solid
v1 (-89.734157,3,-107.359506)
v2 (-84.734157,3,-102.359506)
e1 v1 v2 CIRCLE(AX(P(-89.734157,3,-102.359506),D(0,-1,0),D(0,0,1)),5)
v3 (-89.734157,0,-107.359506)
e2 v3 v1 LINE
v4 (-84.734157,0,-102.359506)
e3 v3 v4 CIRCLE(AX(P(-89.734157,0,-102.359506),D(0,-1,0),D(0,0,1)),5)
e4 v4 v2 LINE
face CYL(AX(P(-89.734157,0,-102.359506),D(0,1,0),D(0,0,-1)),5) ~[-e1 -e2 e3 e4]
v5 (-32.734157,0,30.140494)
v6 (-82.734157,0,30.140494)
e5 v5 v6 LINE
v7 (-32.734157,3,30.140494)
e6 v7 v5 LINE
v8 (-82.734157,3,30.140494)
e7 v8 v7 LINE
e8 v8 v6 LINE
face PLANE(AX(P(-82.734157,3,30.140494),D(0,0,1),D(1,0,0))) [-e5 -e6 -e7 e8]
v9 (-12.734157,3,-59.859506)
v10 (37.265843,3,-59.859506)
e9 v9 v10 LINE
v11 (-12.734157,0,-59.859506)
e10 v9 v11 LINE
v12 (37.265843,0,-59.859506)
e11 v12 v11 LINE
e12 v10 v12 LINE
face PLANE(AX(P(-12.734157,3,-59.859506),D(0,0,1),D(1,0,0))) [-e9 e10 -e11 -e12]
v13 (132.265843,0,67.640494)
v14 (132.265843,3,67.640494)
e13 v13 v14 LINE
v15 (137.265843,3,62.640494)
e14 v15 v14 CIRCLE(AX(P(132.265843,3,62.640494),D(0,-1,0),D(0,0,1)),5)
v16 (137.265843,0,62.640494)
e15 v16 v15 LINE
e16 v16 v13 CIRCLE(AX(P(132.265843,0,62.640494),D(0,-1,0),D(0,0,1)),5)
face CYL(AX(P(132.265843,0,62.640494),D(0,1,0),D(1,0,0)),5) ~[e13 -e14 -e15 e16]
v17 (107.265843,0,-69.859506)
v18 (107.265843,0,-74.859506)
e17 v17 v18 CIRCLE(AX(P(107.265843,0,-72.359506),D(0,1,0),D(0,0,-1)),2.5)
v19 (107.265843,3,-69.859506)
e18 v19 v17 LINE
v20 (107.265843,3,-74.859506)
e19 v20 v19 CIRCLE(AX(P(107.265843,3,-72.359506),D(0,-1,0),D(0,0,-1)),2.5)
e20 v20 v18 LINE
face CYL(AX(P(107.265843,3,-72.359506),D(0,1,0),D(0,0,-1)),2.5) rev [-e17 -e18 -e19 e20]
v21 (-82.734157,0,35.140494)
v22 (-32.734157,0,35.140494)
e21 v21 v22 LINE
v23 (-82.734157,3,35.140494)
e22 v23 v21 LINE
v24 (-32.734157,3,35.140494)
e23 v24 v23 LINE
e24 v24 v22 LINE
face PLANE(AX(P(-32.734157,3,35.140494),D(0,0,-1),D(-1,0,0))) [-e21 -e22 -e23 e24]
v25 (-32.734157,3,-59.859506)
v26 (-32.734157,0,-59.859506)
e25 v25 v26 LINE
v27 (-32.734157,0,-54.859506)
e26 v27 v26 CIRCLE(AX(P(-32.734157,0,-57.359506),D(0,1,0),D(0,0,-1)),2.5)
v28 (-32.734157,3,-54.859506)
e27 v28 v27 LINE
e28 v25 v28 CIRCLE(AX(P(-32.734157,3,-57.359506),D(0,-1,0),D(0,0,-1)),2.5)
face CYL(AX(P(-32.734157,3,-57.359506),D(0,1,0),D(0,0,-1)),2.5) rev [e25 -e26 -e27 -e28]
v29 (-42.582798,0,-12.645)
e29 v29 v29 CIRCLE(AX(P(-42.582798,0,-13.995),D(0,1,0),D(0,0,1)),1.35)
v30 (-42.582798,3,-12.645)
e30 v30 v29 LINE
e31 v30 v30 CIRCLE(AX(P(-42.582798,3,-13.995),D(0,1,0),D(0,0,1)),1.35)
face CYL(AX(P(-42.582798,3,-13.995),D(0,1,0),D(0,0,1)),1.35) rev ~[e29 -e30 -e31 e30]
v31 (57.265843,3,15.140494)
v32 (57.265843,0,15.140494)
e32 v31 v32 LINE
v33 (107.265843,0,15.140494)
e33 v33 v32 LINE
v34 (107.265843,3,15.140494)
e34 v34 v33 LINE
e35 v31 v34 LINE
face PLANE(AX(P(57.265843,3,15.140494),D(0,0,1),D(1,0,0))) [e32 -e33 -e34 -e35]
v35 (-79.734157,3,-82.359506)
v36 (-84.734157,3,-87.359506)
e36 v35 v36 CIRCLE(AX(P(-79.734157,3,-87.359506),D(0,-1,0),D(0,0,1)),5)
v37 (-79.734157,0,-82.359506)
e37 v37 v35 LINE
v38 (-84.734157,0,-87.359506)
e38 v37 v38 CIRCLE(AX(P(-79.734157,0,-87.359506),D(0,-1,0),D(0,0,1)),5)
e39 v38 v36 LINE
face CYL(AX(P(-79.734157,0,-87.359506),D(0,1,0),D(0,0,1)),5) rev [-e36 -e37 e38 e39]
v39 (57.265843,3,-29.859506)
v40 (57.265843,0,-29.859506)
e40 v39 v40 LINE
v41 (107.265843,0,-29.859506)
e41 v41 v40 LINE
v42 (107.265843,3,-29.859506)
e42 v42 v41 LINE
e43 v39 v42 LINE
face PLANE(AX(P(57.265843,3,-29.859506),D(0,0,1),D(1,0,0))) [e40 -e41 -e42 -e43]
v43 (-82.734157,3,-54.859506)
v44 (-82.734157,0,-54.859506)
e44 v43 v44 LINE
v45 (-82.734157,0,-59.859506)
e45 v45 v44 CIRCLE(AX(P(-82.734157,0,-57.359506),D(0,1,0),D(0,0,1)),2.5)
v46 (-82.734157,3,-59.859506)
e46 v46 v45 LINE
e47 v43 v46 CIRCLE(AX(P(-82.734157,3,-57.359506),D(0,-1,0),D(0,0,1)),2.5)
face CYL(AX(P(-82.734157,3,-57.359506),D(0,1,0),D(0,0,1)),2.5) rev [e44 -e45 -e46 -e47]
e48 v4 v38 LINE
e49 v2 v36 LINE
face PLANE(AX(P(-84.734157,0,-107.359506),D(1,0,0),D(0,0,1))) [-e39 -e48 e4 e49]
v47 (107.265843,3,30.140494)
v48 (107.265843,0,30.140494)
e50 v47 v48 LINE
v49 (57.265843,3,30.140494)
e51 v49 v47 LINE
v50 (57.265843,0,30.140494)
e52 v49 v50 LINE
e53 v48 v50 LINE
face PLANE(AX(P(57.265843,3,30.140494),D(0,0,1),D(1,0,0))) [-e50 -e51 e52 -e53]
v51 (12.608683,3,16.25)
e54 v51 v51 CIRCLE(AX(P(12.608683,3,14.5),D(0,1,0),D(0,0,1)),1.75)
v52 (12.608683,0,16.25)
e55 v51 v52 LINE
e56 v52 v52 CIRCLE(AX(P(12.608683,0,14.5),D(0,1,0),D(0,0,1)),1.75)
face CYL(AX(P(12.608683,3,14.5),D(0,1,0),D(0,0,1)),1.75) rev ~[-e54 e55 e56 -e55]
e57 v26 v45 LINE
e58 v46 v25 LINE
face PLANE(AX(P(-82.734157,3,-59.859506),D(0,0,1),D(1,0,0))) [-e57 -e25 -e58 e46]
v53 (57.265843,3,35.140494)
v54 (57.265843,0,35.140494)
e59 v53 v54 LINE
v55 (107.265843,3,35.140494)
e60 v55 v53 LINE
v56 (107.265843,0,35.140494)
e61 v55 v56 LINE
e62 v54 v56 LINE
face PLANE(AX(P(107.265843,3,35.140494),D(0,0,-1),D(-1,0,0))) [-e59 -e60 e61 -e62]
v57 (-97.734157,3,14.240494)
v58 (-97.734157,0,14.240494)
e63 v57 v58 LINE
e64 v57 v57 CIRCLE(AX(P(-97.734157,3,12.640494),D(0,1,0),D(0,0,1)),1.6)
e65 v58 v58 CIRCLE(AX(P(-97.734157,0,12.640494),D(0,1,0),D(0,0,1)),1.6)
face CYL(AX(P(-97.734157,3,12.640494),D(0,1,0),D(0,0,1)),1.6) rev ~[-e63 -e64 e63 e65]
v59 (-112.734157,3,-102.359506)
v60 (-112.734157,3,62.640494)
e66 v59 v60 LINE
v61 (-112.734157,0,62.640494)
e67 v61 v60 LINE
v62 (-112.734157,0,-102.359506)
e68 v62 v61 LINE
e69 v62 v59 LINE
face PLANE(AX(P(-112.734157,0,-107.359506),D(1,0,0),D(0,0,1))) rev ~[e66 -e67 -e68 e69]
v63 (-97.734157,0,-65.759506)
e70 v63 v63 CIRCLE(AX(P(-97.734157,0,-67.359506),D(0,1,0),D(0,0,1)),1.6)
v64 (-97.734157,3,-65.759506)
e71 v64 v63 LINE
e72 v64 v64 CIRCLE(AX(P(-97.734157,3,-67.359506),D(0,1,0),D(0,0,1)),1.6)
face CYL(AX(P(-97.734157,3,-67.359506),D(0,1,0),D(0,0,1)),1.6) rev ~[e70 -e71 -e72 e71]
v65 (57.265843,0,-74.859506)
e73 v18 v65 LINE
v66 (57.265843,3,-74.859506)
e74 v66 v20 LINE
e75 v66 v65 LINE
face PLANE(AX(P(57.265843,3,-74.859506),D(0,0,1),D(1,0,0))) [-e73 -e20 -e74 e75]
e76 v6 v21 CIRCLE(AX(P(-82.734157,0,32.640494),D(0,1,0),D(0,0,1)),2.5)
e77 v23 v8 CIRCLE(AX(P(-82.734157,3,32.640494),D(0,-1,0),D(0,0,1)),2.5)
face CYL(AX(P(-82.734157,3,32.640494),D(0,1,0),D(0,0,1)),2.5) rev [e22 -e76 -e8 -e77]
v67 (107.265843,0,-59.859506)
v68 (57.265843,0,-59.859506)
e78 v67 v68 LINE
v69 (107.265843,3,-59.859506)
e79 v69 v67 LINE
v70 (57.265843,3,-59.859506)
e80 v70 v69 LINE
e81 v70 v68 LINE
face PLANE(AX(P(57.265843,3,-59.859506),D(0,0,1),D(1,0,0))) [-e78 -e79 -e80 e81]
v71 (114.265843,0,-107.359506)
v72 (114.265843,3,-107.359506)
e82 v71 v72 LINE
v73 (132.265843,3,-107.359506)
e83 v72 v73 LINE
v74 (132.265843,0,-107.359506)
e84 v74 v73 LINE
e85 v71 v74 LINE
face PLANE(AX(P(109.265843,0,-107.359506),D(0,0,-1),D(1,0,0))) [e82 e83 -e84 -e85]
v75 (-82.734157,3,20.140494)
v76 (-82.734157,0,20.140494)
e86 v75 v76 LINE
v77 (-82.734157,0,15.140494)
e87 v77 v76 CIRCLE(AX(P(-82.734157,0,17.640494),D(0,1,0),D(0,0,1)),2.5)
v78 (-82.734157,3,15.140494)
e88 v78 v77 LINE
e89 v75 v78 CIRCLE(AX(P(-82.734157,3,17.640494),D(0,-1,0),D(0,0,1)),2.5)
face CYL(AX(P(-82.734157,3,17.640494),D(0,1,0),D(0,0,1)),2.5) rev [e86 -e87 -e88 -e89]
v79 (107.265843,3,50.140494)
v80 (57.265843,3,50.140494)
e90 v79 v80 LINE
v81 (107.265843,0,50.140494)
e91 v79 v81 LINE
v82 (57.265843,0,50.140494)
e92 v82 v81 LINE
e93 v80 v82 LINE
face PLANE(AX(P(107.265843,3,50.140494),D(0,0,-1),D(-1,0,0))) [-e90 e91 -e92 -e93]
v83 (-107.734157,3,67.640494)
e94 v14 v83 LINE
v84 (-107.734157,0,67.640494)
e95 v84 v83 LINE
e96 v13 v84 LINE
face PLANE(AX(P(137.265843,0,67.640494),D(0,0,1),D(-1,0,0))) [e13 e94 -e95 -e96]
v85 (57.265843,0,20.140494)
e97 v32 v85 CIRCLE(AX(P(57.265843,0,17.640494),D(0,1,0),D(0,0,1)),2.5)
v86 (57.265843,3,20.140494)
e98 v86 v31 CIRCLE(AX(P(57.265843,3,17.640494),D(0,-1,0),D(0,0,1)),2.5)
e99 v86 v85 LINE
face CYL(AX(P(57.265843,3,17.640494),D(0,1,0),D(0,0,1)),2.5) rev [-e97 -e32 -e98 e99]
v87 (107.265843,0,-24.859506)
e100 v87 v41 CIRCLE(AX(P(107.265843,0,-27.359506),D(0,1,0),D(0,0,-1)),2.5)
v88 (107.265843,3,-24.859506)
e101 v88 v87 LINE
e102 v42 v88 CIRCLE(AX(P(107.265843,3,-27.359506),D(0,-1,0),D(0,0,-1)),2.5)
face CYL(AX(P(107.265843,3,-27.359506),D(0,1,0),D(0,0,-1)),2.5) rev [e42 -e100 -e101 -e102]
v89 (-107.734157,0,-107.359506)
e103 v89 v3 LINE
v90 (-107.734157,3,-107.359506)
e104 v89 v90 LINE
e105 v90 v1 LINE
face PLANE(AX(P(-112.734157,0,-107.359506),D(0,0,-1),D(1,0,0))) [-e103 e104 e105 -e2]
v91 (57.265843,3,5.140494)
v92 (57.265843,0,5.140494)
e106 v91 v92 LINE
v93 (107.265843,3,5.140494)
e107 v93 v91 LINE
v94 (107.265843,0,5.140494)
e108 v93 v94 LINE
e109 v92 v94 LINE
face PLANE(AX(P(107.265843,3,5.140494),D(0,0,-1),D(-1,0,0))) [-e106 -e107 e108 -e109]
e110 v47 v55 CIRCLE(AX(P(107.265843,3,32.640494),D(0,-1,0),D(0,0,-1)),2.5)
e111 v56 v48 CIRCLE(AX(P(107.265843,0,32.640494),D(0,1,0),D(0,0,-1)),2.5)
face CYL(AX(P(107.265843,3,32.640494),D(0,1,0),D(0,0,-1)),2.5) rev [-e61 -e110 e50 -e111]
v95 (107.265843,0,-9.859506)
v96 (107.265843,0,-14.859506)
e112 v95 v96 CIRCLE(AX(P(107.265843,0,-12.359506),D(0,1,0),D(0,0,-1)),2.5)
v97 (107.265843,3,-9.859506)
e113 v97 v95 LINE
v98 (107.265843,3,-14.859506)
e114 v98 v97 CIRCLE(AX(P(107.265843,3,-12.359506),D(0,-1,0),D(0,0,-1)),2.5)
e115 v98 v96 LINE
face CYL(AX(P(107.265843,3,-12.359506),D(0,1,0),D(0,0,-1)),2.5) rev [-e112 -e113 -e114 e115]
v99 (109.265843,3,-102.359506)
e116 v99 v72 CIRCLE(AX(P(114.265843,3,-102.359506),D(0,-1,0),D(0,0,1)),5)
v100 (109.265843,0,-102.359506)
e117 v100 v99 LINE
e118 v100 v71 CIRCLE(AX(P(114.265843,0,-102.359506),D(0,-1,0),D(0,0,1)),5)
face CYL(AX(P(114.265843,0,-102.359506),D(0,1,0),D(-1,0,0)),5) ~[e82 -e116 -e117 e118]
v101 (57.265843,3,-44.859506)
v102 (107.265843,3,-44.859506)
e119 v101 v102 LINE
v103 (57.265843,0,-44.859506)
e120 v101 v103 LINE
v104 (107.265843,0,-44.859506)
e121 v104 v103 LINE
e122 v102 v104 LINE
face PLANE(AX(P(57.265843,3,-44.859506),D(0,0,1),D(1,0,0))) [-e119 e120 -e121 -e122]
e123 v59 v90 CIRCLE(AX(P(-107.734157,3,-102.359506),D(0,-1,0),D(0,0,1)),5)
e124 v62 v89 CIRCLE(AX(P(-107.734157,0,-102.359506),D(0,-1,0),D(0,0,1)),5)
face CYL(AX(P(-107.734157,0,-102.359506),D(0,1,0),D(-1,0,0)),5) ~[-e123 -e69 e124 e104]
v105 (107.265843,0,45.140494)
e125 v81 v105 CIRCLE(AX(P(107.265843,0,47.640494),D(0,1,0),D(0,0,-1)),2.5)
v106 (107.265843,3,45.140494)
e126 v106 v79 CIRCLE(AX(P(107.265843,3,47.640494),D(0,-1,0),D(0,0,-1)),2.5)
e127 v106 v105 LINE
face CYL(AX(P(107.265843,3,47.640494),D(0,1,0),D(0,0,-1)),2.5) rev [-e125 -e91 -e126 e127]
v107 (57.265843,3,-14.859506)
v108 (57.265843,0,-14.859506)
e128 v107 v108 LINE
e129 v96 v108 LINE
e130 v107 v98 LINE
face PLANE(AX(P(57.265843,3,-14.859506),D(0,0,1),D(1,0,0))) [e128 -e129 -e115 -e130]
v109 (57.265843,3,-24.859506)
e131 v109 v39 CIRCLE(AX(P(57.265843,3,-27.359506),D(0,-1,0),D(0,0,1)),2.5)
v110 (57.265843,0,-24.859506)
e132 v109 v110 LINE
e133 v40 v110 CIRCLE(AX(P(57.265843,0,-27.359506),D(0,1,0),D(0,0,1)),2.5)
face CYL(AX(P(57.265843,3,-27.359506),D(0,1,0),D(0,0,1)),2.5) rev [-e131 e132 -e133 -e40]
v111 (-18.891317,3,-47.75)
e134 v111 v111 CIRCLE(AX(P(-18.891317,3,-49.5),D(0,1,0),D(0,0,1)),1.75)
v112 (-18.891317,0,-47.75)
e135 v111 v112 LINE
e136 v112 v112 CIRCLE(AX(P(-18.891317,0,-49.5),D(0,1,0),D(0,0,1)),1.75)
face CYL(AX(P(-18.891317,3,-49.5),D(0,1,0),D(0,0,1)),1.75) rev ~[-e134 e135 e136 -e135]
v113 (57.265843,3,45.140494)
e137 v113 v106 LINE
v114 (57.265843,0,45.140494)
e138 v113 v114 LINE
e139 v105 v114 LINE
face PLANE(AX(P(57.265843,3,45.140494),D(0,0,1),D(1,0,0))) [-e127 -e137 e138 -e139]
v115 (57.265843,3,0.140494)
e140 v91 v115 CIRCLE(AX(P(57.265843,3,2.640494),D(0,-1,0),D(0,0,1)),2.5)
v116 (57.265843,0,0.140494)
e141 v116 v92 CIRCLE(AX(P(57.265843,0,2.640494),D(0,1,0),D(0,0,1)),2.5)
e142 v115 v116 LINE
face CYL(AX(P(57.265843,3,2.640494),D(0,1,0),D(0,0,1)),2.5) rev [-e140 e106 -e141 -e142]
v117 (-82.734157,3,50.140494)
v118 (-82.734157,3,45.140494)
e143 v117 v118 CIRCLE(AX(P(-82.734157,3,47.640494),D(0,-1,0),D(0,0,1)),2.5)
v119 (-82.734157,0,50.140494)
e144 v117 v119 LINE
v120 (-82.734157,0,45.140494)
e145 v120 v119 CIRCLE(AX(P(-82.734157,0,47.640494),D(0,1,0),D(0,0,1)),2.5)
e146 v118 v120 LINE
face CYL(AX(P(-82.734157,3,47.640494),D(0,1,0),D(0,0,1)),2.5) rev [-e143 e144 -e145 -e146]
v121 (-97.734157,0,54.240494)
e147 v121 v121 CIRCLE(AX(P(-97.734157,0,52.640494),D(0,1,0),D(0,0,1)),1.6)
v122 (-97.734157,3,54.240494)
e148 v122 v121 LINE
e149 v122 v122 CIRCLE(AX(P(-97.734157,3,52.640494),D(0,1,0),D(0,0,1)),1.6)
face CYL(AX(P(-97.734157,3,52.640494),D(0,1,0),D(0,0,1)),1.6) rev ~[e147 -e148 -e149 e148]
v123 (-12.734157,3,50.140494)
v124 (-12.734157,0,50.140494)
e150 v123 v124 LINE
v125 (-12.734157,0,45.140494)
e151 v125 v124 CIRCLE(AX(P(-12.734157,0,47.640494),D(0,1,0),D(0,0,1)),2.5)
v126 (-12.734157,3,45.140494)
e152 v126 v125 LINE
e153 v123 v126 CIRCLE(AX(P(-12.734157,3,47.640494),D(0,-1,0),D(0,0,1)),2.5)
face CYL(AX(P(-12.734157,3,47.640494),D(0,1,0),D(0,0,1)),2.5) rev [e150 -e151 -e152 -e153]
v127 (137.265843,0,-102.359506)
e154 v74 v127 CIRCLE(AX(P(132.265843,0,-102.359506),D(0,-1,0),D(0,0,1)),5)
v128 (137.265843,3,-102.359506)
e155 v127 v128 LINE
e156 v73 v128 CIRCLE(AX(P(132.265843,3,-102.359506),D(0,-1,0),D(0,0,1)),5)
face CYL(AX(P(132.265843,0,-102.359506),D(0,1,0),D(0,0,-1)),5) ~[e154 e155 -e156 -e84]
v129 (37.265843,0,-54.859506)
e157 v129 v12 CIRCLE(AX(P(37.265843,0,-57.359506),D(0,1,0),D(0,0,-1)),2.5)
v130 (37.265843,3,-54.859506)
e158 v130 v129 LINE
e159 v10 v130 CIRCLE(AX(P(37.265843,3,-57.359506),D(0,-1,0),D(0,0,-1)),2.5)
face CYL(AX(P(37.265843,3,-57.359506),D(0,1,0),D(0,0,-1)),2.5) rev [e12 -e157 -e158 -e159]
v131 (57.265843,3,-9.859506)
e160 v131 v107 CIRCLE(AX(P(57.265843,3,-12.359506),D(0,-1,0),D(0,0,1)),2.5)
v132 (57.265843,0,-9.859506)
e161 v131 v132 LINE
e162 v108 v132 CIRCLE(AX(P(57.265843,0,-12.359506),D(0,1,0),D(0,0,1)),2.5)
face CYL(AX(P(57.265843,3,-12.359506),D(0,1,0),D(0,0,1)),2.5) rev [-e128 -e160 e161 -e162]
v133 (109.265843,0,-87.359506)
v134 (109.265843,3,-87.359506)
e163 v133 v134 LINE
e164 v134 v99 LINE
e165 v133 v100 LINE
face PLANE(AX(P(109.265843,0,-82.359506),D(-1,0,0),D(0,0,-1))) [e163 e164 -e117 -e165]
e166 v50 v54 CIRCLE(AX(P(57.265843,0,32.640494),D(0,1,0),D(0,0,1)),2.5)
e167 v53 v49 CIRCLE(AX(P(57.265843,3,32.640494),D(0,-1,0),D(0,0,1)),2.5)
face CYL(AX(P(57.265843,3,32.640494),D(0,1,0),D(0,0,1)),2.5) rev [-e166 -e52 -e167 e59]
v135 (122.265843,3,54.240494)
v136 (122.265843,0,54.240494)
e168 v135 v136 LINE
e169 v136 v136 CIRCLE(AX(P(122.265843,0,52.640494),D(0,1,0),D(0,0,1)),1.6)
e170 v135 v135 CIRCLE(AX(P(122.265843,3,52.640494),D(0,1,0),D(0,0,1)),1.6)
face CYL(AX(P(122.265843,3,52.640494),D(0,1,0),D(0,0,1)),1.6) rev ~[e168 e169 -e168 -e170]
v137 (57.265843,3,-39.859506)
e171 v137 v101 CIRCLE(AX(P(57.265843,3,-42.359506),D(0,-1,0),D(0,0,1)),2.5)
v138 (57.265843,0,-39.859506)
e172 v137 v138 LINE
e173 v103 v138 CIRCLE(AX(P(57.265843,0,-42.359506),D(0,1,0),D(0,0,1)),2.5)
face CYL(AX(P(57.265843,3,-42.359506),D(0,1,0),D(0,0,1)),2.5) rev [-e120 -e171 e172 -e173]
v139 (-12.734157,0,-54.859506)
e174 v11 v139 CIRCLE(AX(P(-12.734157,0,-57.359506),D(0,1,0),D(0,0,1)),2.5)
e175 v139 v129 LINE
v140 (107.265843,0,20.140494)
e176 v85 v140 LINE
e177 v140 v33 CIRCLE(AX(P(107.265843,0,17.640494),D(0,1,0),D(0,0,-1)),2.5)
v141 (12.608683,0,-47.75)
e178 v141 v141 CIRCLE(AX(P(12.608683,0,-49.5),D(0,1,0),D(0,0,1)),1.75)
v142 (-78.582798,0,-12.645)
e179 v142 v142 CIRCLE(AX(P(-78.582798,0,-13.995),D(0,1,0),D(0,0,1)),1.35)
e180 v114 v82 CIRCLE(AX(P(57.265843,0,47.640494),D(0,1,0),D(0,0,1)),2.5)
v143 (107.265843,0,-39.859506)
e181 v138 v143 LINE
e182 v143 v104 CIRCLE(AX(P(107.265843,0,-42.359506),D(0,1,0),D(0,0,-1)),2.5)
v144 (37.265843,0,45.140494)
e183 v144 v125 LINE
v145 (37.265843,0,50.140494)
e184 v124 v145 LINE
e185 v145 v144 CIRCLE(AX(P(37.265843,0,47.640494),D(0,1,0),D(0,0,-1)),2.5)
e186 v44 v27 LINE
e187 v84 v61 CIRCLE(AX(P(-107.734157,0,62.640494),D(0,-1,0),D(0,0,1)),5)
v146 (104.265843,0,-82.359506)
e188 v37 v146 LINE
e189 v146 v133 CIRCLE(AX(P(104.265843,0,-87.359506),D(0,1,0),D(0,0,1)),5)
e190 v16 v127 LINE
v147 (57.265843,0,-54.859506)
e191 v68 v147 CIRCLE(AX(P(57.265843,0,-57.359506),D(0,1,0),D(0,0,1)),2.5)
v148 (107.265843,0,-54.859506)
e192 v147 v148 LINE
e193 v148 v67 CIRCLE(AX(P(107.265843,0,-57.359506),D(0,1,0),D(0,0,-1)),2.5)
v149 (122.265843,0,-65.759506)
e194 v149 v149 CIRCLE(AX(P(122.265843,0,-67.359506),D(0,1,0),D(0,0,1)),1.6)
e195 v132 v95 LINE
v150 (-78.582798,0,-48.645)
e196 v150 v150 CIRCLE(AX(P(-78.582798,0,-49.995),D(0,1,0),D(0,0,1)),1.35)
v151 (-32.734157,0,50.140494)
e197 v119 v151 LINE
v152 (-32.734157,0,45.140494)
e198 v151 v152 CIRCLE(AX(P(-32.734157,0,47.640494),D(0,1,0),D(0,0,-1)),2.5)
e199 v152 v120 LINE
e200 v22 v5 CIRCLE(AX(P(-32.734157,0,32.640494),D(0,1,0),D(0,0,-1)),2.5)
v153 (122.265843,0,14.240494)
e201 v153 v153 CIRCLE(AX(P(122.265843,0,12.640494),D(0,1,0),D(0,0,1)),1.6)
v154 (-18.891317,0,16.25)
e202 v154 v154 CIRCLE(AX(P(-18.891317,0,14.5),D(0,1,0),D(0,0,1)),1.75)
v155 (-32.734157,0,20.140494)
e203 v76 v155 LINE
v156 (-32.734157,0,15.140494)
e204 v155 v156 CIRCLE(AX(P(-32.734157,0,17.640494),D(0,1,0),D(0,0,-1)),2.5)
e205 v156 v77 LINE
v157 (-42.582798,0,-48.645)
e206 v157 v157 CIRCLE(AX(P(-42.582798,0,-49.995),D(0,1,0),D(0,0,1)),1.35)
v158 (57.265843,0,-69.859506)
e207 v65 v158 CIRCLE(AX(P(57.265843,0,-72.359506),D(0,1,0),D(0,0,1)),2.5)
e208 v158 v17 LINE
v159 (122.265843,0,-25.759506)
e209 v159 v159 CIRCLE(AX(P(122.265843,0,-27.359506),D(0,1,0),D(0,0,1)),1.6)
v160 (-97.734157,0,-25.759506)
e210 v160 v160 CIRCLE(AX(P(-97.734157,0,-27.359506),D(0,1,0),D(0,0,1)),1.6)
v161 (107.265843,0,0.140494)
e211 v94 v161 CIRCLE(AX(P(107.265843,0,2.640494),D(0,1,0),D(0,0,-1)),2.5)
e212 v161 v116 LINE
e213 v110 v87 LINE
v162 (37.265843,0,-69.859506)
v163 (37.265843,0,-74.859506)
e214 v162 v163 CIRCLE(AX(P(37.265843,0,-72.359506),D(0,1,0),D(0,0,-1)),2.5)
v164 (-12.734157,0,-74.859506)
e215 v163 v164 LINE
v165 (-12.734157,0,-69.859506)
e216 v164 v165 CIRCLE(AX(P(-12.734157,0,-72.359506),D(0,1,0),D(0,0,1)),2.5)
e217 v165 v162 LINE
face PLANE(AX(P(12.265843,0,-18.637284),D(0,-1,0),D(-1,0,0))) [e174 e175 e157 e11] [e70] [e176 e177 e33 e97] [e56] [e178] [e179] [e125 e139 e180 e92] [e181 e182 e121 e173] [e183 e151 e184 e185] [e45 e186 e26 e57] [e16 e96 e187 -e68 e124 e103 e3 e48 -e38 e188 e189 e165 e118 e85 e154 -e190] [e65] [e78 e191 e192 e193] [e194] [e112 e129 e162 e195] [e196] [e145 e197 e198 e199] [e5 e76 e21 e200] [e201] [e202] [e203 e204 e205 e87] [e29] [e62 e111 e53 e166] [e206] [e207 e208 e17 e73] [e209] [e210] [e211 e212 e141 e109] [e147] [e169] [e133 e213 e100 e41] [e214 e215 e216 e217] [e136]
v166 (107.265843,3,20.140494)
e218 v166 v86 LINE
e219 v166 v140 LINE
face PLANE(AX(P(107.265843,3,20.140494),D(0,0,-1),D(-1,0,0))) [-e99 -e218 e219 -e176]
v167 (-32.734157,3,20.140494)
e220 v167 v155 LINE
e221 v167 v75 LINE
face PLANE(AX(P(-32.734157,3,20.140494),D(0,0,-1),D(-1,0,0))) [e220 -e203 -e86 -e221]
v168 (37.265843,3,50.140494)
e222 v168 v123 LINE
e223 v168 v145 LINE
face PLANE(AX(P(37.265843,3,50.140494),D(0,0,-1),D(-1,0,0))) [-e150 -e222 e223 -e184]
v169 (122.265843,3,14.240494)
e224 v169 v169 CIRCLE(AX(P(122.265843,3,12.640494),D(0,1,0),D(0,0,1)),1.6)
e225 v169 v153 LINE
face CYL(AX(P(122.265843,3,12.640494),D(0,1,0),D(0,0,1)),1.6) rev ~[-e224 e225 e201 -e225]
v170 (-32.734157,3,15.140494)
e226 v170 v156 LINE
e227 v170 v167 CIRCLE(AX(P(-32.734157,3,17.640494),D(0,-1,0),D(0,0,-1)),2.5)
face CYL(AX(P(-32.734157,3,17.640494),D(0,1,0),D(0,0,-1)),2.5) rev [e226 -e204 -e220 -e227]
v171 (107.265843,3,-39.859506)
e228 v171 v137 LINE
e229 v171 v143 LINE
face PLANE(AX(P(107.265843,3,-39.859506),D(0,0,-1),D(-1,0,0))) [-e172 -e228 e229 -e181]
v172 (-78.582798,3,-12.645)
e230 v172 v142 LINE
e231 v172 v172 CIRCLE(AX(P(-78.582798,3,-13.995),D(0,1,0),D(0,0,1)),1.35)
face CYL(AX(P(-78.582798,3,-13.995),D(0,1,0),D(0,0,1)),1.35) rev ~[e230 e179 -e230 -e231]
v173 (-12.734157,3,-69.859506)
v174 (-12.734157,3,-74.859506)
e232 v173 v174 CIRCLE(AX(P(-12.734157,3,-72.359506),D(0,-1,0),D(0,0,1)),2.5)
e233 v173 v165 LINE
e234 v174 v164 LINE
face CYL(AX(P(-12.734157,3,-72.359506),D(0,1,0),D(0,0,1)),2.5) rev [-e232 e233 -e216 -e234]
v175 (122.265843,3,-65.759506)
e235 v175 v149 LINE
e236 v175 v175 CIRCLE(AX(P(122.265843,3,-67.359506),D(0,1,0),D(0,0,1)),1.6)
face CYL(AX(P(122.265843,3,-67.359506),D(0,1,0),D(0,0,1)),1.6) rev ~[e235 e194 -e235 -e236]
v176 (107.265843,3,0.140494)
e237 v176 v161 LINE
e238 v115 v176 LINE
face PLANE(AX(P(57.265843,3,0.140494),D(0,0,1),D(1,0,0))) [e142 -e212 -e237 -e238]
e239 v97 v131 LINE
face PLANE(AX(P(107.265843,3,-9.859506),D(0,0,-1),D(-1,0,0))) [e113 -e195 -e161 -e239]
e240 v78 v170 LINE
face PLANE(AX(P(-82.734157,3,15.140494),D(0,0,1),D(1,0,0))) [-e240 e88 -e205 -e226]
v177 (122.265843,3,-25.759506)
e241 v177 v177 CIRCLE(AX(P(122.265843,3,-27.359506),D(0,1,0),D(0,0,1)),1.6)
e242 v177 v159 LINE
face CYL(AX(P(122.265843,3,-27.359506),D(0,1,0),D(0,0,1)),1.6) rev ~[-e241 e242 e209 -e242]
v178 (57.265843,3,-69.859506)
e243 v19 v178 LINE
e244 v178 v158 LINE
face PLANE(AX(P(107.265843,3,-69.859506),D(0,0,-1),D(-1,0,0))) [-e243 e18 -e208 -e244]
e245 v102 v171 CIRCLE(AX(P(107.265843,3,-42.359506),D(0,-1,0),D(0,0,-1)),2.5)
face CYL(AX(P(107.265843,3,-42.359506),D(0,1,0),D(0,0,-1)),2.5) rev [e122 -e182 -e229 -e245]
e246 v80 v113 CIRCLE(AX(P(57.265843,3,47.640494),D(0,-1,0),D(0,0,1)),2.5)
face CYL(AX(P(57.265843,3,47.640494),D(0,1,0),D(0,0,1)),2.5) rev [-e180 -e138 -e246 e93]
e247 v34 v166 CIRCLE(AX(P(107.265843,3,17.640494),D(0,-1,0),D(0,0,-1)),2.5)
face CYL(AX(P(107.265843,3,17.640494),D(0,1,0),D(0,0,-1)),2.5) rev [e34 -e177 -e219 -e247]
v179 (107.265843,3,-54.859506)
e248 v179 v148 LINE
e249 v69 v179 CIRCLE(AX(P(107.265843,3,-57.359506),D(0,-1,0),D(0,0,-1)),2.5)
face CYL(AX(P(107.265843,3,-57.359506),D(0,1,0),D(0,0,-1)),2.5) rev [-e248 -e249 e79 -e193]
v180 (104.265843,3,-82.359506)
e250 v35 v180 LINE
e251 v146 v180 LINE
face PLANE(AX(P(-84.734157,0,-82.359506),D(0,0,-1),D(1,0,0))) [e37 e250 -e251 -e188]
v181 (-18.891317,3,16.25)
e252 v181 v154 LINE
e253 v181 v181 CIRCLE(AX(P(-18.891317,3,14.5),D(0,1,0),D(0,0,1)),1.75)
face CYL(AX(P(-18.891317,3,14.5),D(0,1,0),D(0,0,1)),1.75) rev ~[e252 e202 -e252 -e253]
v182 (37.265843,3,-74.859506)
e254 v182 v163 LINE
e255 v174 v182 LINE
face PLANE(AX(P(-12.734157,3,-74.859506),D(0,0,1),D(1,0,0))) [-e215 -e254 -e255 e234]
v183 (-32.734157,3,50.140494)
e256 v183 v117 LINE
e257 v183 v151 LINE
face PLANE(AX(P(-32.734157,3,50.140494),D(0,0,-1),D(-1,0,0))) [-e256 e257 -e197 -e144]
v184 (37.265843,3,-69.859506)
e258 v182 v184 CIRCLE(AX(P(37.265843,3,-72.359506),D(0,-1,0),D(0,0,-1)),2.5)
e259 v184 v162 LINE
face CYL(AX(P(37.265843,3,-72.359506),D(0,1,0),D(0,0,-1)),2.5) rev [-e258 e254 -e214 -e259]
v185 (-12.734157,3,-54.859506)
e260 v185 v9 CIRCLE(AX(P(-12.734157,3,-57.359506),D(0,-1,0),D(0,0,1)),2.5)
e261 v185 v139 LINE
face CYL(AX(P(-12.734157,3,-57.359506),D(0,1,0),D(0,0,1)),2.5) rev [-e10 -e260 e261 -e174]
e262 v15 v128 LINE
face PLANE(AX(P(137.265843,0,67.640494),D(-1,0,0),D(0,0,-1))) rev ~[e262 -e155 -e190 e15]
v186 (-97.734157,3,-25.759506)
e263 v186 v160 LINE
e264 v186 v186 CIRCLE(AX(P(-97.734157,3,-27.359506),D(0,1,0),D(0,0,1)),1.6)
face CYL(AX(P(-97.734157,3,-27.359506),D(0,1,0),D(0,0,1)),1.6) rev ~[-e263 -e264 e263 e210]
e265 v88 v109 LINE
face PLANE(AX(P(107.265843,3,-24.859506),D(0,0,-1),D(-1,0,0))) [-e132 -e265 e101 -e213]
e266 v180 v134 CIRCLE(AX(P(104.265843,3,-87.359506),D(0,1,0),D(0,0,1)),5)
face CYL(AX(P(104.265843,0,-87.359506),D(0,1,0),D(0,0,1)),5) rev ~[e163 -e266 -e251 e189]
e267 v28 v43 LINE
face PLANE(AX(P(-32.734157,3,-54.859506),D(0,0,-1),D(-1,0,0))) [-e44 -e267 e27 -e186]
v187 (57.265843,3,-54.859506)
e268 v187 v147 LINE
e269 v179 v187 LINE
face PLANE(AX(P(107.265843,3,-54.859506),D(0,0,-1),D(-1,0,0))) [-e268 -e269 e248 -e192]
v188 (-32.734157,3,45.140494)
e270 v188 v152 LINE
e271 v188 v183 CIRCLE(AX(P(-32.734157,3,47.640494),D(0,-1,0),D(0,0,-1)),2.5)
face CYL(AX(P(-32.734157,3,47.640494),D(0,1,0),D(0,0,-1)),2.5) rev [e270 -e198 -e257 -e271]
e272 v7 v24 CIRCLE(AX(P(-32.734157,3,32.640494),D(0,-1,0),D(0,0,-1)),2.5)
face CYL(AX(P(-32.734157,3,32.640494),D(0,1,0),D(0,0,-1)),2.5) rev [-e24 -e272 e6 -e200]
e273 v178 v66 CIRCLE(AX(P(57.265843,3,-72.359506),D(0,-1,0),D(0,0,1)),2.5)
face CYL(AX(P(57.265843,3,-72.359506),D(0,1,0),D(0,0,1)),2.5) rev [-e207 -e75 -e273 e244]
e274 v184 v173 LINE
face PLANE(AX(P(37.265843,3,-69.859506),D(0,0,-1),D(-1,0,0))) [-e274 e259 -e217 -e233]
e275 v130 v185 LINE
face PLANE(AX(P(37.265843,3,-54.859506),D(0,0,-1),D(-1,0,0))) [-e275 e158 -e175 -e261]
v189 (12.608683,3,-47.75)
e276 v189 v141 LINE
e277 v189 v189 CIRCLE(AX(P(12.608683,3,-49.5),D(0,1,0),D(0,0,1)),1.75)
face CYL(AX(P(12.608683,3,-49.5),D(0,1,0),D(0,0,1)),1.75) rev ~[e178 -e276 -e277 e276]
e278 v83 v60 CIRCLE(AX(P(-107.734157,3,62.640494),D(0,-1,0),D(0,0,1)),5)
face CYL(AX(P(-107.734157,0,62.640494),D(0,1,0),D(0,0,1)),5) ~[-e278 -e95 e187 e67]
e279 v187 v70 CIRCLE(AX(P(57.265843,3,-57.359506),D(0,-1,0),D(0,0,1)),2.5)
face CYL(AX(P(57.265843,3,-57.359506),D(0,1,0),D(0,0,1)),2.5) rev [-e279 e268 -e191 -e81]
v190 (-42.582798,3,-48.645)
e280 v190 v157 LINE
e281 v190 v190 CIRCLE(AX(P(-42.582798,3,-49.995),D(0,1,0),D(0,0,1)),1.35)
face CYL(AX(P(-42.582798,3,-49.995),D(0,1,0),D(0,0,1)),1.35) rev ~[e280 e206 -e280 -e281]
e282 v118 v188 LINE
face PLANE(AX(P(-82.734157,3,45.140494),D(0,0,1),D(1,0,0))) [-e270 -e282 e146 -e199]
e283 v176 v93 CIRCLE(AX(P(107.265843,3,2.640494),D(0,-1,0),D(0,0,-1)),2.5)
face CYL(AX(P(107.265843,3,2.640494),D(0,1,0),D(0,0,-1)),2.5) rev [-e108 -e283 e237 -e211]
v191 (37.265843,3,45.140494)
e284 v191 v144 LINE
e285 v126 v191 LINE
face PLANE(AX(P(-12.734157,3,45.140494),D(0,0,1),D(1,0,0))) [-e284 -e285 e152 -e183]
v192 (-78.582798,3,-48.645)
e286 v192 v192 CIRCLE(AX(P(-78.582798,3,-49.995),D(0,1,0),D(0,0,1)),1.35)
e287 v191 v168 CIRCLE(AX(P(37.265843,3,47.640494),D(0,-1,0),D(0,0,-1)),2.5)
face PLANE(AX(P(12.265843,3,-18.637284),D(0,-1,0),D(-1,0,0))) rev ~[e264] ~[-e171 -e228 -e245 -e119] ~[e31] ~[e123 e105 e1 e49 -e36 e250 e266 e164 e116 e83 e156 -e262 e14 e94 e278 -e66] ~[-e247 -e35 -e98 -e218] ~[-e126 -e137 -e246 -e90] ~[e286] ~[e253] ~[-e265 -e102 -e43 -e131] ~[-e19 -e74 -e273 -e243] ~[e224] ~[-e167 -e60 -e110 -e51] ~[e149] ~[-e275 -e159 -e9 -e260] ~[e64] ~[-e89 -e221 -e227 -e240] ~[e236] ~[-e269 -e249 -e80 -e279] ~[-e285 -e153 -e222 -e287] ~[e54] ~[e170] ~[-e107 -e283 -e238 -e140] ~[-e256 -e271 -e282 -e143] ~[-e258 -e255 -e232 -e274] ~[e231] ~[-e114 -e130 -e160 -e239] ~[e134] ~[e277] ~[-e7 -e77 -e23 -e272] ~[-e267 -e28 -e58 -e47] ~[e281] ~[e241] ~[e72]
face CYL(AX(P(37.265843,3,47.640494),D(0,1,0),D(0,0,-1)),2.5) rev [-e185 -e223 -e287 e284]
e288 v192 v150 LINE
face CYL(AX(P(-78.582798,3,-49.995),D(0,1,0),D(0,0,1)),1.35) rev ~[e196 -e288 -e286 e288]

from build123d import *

# Parameters (mm, degrees)
EXTRUDE_1_DEPTH     = 3
FILLET_1_R          = 5
SKETCH_4_R          = 1.75
SKETCH_4_R_2        = 1.35
CUT_EXTRUDE_2_DEPTH = 10
CUT_EXTRUDE_3_DEPTH = 10
SKETCH_5_R          = 1.6
CUT_EXTRUDE_4_DEPTH = 10


with BuildPart() as part:
    # 草图1 → 凸台-拉伸1 (new body)
    with BuildSketch(Plane(origin=(0, 0, 0), x_dir=(1, 0, 0), z_dir=(0, 1, 0))):
        Polygon((-84.734156599, 82.359506041), (109.265843401, 82.359506041), (109.265843401, 107.359506041), (137.265843401, 107.359506041), (137.265843401, 82.359506041), (137.265843401, -67.640493959), (-112.734156599, -67.640493959), (-112.734156599, 55.552013884), (-112.734156599, 107.359506041), (-84.734156599, 107.359506041), align=None)
    extrude(amount=EXTRUDE_1_DEPTH)

    # 圆角1
    fillet_1_edges = [part.edges().sort_by_distance(p)[0] for p in [
        (137.265843401, 1.5, 67.640493959),
        (-112.734156599, 1.5, 67.640493959),
        (137.265843401, 1.5, -107.359506041),
        (109.265843401, 1.5, -107.359506041),
        (109.265843401, 1.5, -82.359506041),
        (-112.734156599, 1.5, -107.359506041),
        (-84.734156599, 1.5, -107.359506041),
        (-84.734156599, 1.5, -82.359506041),
    ]]
    fillet(fillet_1_edges, radius=FILLET_1_R)

    # 草图4 → 切除-拉伸2 (cut)
    with BuildSketch(Plane(origin=(0, 3, 0), x_dir=(1, 0, 0), z_dir=(0, 1, 0))):
        with Locations((-18.891317384, -14.5)):
            Circle(SKETCH_4_R)
        with Locations((12.608682616, -14.5)):
            Circle(SKETCH_4_R)
        with Locations((-42.582797937, 49.995)):
            Circle(SKETCH_4_R_2)
        with Locations((-18.891317384, 49.5)):
            Circle(SKETCH_4_R)
        with Locations((12.608682616, 49.5)):
            Circle(SKETCH_4_R)
        with Locations((-42.582797937, 13.995)):
            Circle(SKETCH_4_R_2)
        with Locations((-78.582797937, 13.995)):
            Circle(SKETCH_4_R_2)
        with Locations((-78.582797937, 49.995)):
            Circle(SKETCH_4_R_2)
    extrude(amount=-CUT_EXTRUDE_2_DEPTH, mode=Mode.SUBTRACT)

    # 草图4<3> → 切除-拉伸3 (cut)
    with BuildSketch(Plane(origin=(0, 3, 0), x_dir=(1, 0, 0), z_dir=(0, 1, 0))):
        with BuildLine():
            Line((57.265843401, 74.859506041), (107.265843401, 74.859506041))
            ThreePointArc((107.265843401, 74.859506041), (109.765843401, 72.359506041), (107.265843401, 69.859506041))
            Line((107.265843401, 69.859506041), (57.265843401, 69.859506041))
            ThreePointArc((57.265843401, 69.859506041), (54.765843401, 72.359506041), (57.265843401, 74.859506041))
        make_face()
        with BuildLine():
            Line((57.265843401, 59.859506041), (107.265843401, 59.859506041))
            ThreePointArc((107.265843401, 59.859506041), (109.765843401, 57.359506041), (107.265843401, 54.859506041))
            Line((107.265843401, 54.859506041), (57.265843401, 54.859506041))
            ThreePointArc((57.265843401, 54.859506041), (54.765843401, 57.359506041), (57.265843401, 59.859506041))
        make_face()
        with BuildLine():
            Line((57.265843401, 44.859506041), (107.265843401, 44.859506041))
            ThreePointArc((107.265843401, 44.859506041), (109.765843401, 42.359506041), (107.265843401, 39.859506041))
            Line((107.265843401, 39.859506041), (57.265843401, 39.859506041))
            ThreePointArc((57.265843401, 39.859506041), (54.765843401, 42.359506041), (57.265843401, 44.859506041))
        make_face()
        with BuildLine():
            Line((57.265843401, 29.859506041), (107.265843401, 29.859506041))
            ThreePointArc((107.265843401, 29.859506041), (109.765843401, 27.359506041), (107.265843401, 24.859506041))
            Line((107.265843401, 24.859506041), (57.265843401, 24.859506041))
            ThreePointArc((57.265843401, 24.859506041), (54.765843401, 27.359506041), (57.265843401, 29.859506041))
        make_face()
        with BuildLine():
            Line((57.265843401, 14.859506041), (107.265843401, 14.859506041))
            ThreePointArc((107.265843401, 14.859506041), (109.765843401, 12.359506041), (107.265843401, 9.859506041))
            Line((107.265843401, 9.859506041), (57.265843401, 9.859506041))
            ThreePointArc((57.265843401, 9.859506041), (54.765843401, 12.359506041), (57.265843401, 14.859506041))
        make_face()
        with BuildLine():
            Line((57.265843401, -0.140493959), (107.265843401, -0.140493959))
            ThreePointArc((107.265843401, -0.140493959), (109.765843401, -2.640493959), (107.265843401, -5.140493959))
            Line((107.265843401, -5.140493959), (57.265843401, -5.140493959))
            ThreePointArc((57.265843401, -5.140493959), (54.765843401, -2.640493959), (57.265843401, -0.140493959))
        make_face()
        with BuildLine():
            Line((57.265843401, -15.140493959), (107.265843401, -15.140493959))
            ThreePointArc((107.265843401, -15.140493959), (109.765843401, -17.640493959), (107.265843401, -20.140493959))
            Line((107.265843401, -20.140493959), (57.265843401, -20.140493959))
            ThreePointArc((57.265843401, -20.140493959), (54.765843401, -17.640493959), (57.265843401, -15.140493959))
        make_face()
        with BuildLine():
            Line((57.265843401, -30.140493959), (107.265843401, -30.140493959))
            ThreePointArc((107.265843401, -30.140493959), (109.765843401, -32.640493959), (107.265843401, -35.140493959))
            Line((107.265843401, -35.140493959), (57.265843401, -35.140493959))
            ThreePointArc((57.265843401, -35.140493959), (54.765843401, -32.640493959), (57.265843401, -30.140493959))
        make_face()
        with BuildLine():
            Line((57.265843401, -45.140493959), (107.265843401, -45.140493959))
            ThreePointArc((107.265843401, -45.140493959), (109.765843401, -47.640493959), (107.265843401, -50.140493959))
            Line((107.265843401, -50.140493959), (57.265843401, -50.140493959))
            ThreePointArc((57.265843401, -50.140493959), (54.765843401, -47.640493959), (57.265843401, -45.140493959))
        make_face()
        with BuildLine():
            Line((-12.734156599, 74.859506041), (37.265843401, 74.859506041))
            ThreePointArc((37.265843401, 74.859506041), (39.765843401, 72.359506041), (37.265843401, 69.859506041))
            Line((37.265843401, 69.859506041), (-12.734156599, 69.859506041))
            ThreePointArc((-12.734156599, 69.859506041), (-15.234156599, 72.359506041), (-12.734156599, 74.859506041))
        make_face()
        with BuildLine():
            Line((-12.734156599, 59.859506041), (37.265843401, 59.859506041))
            ThreePointArc((37.265843401, 59.859506041), (39.765843401, 57.359506041), (37.265843401, 54.859506041))
            Line((37.265843401, 54.859506041), (-12.734156599, 54.859506041))
            ThreePointArc((-12.734156599, 54.859506041), (-15.234156599, 57.359506041), (-12.734156599, 59.859506041))
        make_face()
        with BuildLine():
            Line((-82.734156599, 59.859506041), (-32.734156599, 59.859506041))
            ThreePointArc((-32.734156599, 59.859506041), (-30.234156599, 57.359506041), (-32.734156599, 54.859506041))
            Line((-32.734156599, 54.859506041), (-82.734156599, 54.859506041))
            ThreePointArc((-82.734156599, 54.859506041), (-85.234156599, 57.359506041), (-82.734156599, 59.859506041))
        make_face()
        with BuildLine():
            Line((-12.734156599, -45.140493959), (37.265843401, -45.140493959))
            ThreePointArc((37.265843401, -45.140493959), (39.765843401, -47.640493959), (37.265843401, -50.140493959))
            Line((37.265843401, -50.140493959), (-12.734156599, -50.140493959))
            ThreePointArc((-12.734156599, -50.140493959), (-15.234156599, -47.640493959), (-12.734156599, -45.140493959))
        make_face()
        with BuildLine():
            Line((-82.734156599, -45.140493959), (-32.734156599, -45.140493959))
            ThreePointArc((-32.734156599, -45.140493959), (-30.234156599, -47.640493959), (-32.734156599, -50.140493959))
            Line((-32.734156599, -50.140493959), (-82.734156599, -50.140493959))
            ThreePointArc((-82.734156599, -50.140493959), (-85.234156599, -47.640493959), (-82.734156599, -45.140493959))
        make_face()
        with BuildLine():
            Line((-82.734156599, -30.140493959), (-32.734156599, -30.140493959))
            ThreePointArc((-32.734156599, -30.140493959), (-30.234156599, -32.640493959), (-32.734156599, -35.140493959))
            Line((-32.734156599, -35.140493959), (-82.734156599, -35.140493959))
            ThreePointArc((-82.734156599, -35.140493959), (-85.234156599, -32.640493959), (-82.734156599, -30.140493959))
        make_face()
        with BuildLine():
            Line((-82.734156599, -15.140493959), (-32.734156599, -15.140493959))
            ThreePointArc((-32.734156599, -15.140493959), (-30.234156599, -17.640493959), (-32.734156599, -20.140493959))
            Line((-32.734156599, -20.140493959), (-82.734156599, -20.140493959))
            ThreePointArc((-82.734156599, -20.140493959), (-85.234156599, -17.640493959), (-82.734156599, -15.140493959))
        make_face()
    extrude(amount=-CUT_EXTRUDE_3_DEPTH, mode=Mode.SUBTRACT)

    # 草图5 → 切除-拉伸4 (cut)
    with BuildSketch(Plane(origin=(0, 3, 0), x_dir=(1, 0, 0), z_dir=(0, 1, 0))):
        with Locations((-97.734156599, 67.359506041)):
            Circle(SKETCH_5_R)
        with Locations((-97.734156599, 27.359506041)):
            Circle(SKETCH_5_R)
        with Locations((-97.734156599, -12.640493959)):
            Circle(SKETCH_5_R)
        with Locations((-97.734156599, -52.640493959)):
            Circle(SKETCH_5_R)
        with Locations((122.265843401, -52.640493959)):
            Circle(SKETCH_5_R)
        with Locations((122.265843401, -12.640493959)):
            Circle(SKETCH_5_R)
        with Locations((122.265843401, 27.359506041)):
            Circle(SKETCH_5_R)
        with Locations((122.265843401, 67.359506041)):
            Circle(SKETCH_5_R)
    extrude(amount=-CUT_EXTRUDE_4_DEPTH, mode=Mode.SUBTRACT)


solid = part.part
